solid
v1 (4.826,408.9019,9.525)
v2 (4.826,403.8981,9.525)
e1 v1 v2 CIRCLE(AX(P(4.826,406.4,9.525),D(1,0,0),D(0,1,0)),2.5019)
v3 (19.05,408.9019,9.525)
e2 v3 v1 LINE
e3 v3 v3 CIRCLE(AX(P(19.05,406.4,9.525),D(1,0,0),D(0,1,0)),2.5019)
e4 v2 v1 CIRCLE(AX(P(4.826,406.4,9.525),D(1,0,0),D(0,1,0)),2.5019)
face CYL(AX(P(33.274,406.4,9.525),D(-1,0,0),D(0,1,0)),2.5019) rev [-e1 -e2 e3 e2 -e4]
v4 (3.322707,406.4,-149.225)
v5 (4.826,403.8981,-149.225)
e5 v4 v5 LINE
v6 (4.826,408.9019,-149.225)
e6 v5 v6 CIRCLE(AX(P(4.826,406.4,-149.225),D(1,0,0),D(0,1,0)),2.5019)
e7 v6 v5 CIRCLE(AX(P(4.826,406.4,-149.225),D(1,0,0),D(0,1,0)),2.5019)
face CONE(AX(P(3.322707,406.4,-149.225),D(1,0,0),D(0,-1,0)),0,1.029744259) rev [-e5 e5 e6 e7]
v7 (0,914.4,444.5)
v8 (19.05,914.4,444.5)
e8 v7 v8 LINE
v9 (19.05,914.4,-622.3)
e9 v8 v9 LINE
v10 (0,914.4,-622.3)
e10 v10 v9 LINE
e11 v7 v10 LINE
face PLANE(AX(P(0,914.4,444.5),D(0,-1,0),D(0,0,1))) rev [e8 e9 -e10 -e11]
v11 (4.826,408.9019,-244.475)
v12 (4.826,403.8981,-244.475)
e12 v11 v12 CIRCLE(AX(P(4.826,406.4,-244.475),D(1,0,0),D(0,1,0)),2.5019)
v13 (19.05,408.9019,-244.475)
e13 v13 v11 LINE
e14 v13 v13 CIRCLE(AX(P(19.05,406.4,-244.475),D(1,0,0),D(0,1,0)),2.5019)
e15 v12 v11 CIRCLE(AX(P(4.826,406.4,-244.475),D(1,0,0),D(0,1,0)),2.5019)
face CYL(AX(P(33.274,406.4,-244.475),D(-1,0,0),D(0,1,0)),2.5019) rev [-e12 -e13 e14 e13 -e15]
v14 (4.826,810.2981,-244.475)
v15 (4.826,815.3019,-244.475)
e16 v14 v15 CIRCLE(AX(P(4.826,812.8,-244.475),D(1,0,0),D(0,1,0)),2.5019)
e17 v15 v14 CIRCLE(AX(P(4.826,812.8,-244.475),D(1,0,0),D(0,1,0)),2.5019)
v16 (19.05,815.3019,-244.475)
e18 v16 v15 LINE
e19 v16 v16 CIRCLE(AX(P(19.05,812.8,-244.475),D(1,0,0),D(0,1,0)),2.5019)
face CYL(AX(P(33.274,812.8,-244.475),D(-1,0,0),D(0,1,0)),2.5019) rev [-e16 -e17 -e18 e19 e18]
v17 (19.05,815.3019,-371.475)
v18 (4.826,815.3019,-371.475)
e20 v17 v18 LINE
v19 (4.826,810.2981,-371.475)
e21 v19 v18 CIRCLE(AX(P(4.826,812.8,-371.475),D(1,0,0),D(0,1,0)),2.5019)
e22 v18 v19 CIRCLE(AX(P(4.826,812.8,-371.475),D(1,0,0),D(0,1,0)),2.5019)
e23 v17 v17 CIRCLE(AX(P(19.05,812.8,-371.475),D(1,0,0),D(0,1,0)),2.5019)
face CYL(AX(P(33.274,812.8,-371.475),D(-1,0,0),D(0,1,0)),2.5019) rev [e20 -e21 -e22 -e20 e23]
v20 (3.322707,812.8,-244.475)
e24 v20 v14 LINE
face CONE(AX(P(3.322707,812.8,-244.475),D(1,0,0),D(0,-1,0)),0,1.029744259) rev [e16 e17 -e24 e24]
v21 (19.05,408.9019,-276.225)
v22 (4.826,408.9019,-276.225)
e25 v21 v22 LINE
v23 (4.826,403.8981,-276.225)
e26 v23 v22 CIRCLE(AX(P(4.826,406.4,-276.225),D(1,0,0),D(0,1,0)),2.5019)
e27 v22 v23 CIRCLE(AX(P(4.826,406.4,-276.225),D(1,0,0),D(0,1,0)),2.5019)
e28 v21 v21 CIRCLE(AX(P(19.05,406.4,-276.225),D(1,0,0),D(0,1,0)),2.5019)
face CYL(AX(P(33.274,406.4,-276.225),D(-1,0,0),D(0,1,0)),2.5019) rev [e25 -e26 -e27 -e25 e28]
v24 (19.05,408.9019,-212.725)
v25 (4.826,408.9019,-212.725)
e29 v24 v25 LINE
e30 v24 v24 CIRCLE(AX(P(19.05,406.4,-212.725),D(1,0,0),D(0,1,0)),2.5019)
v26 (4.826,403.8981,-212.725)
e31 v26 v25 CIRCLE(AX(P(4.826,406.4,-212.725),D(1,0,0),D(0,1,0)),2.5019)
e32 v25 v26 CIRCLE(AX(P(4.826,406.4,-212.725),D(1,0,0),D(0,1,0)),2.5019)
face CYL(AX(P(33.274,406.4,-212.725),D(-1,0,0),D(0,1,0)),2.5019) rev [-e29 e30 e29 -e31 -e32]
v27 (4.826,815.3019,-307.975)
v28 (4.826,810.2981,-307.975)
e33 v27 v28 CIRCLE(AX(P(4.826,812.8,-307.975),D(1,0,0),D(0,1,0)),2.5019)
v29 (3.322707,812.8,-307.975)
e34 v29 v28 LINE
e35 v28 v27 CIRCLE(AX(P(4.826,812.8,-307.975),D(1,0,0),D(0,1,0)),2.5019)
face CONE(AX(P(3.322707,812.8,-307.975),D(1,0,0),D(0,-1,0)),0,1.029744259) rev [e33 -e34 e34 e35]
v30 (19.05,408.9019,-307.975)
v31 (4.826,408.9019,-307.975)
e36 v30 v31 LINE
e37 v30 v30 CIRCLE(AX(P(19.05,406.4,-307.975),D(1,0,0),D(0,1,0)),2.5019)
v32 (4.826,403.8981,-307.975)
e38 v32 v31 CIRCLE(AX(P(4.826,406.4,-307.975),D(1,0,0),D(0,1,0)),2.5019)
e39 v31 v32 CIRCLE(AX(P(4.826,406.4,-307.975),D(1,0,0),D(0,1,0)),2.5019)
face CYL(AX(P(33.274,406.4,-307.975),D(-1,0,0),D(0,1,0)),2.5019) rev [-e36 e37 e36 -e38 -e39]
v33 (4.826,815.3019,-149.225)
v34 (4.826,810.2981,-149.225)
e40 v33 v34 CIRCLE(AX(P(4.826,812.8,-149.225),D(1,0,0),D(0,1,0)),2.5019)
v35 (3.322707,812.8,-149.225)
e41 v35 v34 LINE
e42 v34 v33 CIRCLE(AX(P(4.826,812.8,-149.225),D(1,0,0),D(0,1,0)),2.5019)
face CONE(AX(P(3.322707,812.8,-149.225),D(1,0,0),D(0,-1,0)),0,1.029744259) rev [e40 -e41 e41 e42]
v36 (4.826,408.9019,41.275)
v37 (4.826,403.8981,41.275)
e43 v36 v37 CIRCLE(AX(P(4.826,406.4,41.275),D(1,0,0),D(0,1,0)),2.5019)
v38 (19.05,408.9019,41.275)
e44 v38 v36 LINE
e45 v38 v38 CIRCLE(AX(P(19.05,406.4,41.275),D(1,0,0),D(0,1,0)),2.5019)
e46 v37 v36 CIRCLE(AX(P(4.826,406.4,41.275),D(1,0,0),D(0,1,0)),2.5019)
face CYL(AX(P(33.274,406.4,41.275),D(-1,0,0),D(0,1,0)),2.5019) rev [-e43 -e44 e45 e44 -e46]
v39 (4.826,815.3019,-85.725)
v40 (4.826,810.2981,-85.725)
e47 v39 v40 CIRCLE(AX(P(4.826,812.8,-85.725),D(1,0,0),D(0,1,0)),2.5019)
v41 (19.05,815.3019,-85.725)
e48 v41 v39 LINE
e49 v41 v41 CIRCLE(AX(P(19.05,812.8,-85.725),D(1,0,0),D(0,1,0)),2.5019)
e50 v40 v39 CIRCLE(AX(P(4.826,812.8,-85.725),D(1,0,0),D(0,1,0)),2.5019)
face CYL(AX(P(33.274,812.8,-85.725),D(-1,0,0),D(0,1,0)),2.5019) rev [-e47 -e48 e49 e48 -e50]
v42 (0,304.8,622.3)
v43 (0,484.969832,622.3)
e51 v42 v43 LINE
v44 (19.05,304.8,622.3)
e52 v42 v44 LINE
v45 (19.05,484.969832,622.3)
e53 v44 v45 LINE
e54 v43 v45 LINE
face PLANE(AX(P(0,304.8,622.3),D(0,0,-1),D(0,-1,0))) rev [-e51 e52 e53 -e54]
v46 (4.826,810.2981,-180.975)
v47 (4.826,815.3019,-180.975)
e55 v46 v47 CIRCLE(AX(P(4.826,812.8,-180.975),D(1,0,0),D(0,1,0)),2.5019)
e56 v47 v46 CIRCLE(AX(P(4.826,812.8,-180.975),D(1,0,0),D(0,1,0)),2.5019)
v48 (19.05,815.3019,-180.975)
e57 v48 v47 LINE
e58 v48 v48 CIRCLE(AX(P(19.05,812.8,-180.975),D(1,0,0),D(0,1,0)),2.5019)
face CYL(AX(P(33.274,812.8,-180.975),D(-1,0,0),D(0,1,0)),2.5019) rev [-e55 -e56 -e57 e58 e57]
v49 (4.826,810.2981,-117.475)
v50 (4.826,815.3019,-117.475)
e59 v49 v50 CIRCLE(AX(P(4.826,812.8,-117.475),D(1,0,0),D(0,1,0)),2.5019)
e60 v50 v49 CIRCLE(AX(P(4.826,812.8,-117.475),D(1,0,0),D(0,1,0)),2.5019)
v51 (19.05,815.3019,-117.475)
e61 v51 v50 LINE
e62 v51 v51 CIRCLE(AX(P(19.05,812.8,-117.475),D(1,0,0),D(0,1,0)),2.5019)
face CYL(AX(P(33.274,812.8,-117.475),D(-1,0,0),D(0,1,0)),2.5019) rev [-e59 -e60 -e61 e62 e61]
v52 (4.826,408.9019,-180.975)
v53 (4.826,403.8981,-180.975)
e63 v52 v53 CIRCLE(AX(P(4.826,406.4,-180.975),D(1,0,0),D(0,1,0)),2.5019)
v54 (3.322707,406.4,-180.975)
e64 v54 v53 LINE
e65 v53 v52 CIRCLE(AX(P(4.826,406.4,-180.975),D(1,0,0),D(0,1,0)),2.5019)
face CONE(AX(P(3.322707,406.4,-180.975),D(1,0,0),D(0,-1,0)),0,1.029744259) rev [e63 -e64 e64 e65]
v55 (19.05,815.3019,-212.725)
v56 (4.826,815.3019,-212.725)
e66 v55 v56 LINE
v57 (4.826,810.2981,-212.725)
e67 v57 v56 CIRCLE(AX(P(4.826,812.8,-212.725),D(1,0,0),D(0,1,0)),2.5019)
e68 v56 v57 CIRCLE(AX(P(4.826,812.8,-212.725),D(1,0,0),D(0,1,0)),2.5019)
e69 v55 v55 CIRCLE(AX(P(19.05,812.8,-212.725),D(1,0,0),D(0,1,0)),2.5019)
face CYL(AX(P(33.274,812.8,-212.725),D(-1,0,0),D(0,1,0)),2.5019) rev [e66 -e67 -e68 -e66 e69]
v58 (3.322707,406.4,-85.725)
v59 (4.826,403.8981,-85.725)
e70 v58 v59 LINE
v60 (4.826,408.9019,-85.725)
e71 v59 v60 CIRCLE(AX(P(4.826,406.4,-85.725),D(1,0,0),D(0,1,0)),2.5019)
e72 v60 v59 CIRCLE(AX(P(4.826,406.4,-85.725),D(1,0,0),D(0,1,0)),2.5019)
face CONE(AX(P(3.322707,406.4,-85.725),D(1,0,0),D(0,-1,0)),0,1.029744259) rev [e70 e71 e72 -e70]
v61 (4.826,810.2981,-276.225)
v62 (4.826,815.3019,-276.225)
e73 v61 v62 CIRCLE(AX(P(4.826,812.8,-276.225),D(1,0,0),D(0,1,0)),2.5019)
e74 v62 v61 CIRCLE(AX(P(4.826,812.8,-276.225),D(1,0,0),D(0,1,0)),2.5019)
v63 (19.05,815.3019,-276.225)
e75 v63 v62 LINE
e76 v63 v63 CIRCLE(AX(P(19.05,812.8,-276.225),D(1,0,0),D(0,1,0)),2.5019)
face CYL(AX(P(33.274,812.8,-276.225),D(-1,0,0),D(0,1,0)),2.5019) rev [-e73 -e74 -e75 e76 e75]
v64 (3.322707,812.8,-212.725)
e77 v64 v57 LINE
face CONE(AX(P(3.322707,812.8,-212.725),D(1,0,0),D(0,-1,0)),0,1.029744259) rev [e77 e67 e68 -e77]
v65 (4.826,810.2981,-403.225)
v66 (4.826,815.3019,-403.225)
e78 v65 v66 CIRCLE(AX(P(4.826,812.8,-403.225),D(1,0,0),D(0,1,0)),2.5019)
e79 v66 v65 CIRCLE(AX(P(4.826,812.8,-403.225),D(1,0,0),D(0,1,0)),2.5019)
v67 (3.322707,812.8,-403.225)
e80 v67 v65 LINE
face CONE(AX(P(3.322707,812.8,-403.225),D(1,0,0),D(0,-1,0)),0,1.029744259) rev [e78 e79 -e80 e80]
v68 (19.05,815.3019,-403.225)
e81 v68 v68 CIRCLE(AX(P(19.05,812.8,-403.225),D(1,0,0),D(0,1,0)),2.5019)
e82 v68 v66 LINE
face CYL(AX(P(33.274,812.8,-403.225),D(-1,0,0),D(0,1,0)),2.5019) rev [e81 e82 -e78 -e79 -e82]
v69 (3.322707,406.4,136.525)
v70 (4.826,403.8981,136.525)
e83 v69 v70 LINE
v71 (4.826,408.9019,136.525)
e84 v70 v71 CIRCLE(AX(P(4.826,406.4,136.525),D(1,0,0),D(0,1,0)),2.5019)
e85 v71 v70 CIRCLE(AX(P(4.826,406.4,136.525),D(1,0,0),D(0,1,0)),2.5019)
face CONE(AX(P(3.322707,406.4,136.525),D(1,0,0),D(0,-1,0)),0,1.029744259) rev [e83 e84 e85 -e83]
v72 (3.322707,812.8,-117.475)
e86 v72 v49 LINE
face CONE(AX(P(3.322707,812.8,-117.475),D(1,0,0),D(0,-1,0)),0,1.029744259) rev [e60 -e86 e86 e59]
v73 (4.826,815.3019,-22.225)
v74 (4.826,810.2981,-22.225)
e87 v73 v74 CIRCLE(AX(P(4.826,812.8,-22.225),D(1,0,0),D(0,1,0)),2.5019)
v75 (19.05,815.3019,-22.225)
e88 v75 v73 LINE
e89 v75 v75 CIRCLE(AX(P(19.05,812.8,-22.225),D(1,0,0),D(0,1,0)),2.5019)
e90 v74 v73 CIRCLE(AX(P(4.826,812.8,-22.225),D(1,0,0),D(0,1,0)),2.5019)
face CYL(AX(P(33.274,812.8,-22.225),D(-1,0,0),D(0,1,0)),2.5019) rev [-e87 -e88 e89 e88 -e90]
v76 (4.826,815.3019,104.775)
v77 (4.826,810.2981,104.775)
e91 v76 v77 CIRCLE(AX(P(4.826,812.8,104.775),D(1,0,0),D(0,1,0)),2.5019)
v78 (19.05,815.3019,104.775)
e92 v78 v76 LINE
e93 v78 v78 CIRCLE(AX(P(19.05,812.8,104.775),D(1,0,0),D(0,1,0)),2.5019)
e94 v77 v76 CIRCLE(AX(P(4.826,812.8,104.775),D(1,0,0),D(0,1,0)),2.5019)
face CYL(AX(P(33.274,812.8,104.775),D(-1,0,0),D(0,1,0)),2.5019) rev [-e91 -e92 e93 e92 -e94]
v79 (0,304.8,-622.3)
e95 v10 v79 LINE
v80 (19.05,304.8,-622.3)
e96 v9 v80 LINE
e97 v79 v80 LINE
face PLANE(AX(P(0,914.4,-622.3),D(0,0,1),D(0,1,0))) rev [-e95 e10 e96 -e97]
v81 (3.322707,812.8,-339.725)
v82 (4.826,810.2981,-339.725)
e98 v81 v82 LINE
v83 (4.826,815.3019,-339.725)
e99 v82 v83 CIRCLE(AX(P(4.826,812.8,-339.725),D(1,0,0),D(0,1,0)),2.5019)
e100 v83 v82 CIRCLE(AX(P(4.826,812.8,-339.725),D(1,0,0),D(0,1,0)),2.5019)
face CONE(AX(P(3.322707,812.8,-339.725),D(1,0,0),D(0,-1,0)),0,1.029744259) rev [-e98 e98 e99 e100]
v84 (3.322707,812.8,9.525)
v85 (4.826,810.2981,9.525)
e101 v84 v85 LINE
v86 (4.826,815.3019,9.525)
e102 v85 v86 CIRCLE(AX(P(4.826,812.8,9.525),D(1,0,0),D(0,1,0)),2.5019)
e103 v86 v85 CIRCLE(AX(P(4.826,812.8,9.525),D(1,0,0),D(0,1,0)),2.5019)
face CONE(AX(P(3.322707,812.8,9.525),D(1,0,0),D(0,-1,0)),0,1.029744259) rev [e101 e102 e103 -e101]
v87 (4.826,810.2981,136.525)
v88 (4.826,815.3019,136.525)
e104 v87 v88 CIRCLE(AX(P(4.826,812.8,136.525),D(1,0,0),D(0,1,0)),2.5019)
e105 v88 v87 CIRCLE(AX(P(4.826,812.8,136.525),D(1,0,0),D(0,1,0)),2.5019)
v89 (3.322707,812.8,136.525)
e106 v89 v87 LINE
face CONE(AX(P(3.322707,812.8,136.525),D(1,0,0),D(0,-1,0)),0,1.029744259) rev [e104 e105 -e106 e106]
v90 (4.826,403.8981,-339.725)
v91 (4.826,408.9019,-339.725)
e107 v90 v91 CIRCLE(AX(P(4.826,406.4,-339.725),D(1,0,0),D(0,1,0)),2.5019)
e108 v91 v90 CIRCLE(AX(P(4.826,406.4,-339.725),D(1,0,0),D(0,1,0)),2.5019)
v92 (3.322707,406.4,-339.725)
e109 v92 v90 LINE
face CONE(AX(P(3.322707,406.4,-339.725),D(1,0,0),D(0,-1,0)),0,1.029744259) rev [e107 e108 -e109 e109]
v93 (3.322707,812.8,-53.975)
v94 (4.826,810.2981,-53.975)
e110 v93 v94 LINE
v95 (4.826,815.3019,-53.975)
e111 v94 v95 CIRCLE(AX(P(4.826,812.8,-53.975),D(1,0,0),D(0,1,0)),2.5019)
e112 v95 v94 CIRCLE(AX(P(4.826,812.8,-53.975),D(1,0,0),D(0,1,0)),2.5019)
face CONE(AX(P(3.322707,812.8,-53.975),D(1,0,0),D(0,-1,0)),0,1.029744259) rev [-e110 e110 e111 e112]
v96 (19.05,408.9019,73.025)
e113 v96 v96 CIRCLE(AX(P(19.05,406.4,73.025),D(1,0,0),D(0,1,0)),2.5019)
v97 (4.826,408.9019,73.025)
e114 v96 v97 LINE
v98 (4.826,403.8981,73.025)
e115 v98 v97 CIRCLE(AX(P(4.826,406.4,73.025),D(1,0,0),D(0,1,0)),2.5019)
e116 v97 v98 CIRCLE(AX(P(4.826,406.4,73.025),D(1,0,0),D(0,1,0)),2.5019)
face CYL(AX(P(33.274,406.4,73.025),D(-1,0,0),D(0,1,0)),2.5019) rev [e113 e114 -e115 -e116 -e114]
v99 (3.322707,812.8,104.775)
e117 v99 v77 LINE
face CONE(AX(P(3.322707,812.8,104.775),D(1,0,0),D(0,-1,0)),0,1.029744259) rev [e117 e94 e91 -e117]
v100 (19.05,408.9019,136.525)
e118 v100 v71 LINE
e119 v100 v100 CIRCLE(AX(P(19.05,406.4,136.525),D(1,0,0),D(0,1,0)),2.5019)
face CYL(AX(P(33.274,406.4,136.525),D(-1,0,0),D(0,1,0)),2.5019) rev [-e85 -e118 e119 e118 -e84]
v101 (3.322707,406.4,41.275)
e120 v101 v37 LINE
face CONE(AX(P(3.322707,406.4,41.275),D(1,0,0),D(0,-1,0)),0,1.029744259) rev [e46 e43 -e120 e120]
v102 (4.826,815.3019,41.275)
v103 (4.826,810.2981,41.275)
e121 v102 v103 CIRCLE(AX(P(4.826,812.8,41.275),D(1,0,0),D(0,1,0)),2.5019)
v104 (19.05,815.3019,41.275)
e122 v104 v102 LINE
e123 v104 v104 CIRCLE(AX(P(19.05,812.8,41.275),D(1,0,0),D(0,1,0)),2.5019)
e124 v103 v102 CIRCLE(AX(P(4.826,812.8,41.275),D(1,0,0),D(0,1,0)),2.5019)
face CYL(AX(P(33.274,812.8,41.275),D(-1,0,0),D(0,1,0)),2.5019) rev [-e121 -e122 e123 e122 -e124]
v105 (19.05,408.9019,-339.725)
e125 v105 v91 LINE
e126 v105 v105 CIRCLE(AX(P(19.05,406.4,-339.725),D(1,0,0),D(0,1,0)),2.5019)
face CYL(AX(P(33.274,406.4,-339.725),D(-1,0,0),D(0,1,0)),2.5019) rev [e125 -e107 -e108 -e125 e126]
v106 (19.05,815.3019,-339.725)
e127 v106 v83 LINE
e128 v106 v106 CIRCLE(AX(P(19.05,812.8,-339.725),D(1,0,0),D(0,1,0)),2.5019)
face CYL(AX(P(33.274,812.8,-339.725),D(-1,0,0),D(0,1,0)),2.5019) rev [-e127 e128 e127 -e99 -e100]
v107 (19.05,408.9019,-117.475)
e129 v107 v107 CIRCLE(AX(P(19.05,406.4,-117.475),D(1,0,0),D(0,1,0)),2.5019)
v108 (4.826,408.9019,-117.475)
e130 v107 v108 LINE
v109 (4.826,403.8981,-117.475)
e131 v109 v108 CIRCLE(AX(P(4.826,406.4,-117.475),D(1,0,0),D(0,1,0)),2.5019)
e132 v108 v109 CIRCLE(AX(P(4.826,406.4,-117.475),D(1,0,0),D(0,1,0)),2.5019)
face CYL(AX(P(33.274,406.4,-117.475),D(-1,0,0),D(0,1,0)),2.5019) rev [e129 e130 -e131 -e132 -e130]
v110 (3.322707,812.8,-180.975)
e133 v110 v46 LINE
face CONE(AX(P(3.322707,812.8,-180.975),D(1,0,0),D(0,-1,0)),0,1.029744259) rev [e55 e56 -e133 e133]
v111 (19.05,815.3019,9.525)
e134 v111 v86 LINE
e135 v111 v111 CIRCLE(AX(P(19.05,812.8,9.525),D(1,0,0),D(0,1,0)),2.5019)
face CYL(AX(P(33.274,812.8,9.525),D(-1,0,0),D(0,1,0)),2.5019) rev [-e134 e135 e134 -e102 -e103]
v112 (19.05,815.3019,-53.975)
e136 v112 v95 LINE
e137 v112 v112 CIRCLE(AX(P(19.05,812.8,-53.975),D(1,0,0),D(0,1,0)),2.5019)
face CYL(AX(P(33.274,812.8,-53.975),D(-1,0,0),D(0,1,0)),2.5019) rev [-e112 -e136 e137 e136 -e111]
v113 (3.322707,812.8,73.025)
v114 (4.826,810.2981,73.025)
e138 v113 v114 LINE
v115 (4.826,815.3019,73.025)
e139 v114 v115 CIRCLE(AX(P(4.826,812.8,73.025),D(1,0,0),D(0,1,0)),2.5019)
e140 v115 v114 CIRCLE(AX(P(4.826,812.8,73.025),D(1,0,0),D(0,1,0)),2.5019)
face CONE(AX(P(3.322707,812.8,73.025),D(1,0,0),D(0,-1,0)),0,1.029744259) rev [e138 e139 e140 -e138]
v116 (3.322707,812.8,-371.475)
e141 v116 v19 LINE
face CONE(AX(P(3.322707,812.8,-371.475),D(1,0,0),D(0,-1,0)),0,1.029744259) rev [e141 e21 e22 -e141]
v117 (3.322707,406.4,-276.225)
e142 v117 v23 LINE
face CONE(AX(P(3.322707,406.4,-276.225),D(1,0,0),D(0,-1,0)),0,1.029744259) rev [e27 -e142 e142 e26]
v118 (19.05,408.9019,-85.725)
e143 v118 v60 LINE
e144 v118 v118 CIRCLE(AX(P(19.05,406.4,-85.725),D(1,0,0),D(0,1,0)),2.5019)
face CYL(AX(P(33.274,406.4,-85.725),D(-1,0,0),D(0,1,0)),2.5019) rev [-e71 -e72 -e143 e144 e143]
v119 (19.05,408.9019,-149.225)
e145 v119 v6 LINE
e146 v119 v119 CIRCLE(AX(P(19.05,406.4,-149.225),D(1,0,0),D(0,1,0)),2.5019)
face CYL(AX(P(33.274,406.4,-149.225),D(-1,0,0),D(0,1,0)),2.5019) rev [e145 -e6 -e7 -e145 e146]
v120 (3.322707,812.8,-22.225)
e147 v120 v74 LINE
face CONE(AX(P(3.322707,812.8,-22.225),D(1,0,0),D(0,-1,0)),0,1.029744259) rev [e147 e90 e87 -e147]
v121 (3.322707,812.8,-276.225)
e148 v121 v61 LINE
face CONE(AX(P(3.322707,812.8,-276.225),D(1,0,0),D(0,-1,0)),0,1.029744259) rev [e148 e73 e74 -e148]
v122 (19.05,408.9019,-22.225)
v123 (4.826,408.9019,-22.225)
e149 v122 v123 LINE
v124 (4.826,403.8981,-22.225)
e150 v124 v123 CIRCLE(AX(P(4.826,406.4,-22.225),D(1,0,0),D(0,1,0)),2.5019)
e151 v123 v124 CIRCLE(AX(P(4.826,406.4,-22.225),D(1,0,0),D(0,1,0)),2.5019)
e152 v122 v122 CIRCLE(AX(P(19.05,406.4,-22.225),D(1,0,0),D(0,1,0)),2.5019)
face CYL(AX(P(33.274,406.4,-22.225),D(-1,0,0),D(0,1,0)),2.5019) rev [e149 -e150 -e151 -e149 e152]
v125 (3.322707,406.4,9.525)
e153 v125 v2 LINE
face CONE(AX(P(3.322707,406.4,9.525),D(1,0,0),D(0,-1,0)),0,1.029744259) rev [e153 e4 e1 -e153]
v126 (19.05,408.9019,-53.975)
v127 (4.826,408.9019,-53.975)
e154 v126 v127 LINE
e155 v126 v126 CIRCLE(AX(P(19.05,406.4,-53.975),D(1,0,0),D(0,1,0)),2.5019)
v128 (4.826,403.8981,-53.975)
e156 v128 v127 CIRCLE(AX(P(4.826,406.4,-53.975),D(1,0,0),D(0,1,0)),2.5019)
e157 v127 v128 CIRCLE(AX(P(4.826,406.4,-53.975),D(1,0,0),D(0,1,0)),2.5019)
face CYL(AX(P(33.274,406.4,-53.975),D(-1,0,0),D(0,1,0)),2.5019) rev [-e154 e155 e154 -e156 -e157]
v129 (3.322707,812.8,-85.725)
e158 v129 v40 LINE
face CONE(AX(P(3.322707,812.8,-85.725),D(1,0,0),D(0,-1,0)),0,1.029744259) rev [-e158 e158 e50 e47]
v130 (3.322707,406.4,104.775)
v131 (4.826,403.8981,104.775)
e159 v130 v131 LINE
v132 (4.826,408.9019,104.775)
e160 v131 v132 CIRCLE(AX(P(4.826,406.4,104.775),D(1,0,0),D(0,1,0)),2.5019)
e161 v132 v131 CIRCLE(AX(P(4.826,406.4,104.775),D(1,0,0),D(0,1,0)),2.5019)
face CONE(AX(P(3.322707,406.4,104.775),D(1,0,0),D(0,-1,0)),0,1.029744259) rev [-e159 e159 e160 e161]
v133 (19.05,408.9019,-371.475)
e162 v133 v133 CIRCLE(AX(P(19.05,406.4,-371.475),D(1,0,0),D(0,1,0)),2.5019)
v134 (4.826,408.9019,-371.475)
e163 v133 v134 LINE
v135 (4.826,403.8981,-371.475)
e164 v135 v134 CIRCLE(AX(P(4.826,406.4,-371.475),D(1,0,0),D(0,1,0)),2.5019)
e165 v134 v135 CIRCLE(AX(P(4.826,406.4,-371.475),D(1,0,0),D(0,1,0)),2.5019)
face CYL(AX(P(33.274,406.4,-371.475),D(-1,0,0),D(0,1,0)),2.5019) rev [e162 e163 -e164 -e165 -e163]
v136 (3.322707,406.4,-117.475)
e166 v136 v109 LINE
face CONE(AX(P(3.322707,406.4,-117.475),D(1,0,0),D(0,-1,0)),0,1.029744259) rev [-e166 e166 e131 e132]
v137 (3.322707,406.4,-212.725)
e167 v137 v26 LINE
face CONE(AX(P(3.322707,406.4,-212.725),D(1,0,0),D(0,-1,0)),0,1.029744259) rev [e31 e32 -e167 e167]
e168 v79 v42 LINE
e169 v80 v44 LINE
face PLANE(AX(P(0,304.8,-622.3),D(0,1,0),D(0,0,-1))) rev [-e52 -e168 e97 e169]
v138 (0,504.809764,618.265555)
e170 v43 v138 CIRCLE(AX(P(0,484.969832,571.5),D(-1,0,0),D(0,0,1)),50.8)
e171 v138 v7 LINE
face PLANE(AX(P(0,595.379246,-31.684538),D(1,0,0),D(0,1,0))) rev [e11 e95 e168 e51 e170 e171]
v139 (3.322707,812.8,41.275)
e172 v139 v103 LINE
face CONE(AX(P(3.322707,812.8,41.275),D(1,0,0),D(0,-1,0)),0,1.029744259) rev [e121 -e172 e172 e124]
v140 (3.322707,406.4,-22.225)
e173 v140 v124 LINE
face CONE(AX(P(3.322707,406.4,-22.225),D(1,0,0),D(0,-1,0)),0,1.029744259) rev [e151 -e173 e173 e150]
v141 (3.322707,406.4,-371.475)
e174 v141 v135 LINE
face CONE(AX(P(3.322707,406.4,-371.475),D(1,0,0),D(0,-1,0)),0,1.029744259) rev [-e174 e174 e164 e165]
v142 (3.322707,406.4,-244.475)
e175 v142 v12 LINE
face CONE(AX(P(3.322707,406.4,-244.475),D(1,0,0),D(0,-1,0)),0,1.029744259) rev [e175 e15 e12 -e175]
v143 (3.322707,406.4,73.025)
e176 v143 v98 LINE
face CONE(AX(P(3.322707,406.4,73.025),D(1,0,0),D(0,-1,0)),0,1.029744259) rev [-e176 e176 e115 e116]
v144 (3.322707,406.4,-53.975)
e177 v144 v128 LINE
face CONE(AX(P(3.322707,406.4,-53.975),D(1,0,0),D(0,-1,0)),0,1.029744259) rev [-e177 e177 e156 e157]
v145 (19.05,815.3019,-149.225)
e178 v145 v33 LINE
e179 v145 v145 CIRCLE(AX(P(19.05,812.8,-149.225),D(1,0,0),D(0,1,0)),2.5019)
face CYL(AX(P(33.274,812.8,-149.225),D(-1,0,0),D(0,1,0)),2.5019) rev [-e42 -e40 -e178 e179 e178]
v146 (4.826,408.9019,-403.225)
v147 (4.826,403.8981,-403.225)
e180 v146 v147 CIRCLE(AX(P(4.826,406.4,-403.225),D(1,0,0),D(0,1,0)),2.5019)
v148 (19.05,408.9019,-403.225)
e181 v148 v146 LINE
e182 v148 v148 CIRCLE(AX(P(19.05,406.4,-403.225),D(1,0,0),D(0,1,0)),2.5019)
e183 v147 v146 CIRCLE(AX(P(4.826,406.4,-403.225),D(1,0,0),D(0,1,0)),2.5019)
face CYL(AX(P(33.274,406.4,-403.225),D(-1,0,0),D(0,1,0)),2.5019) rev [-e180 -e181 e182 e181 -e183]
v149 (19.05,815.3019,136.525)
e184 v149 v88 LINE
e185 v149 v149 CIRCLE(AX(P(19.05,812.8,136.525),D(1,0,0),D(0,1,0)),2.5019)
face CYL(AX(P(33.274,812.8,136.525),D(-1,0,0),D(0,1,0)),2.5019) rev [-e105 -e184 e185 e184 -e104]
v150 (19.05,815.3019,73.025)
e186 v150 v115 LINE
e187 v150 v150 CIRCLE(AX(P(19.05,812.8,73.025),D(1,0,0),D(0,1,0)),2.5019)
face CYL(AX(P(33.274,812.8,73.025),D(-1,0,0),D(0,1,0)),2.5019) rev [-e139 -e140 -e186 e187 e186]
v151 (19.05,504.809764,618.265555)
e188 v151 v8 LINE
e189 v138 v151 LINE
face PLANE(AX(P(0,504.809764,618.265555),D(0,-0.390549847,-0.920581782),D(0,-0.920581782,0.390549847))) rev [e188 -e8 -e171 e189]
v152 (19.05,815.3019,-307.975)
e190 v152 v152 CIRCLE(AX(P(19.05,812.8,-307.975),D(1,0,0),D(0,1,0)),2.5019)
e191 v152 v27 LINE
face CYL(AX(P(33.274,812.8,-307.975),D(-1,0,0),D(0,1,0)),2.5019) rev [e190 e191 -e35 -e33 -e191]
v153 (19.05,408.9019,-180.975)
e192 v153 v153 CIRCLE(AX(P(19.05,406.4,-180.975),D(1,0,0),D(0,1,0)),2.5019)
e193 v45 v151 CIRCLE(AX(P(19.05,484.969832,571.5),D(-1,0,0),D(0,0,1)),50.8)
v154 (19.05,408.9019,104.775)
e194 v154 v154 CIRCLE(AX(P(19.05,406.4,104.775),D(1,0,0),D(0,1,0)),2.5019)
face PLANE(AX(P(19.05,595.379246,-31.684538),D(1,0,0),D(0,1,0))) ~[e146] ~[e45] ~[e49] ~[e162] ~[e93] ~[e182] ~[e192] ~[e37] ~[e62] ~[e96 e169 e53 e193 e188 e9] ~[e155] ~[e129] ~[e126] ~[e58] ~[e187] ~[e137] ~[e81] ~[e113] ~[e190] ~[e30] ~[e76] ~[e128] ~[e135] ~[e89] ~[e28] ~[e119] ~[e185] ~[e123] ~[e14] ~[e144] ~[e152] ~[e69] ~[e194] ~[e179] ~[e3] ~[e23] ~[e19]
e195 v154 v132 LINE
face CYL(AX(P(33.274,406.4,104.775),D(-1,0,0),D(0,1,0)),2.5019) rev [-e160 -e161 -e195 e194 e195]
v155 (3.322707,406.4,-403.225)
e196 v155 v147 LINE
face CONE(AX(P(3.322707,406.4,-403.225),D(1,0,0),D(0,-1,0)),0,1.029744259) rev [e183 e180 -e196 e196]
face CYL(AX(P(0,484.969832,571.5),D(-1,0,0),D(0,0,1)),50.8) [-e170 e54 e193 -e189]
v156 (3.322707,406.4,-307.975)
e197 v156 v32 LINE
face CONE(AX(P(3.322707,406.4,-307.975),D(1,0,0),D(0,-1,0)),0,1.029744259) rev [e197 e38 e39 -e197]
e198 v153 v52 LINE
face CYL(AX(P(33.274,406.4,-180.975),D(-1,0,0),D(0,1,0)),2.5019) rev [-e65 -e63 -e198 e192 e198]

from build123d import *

# Parameters (mm, degrees)
F1_DEPTH = 19.05
F3_D     = 5.0038
F3_DEPTH = 14.224
F3_TIP   = 1.5032931827


with BuildPart() as f1:
    # F0 (on Right) → F1 (new body)
    with BuildSketch(Plane.YZ):
        with BuildLine():
            Line((304.8, -622.3), (304.8, 622.3))
            Line((304.8, 622.3), (124.6301678728, 622.3))
            ThreePointArc((124.6301678728, 622.3), (114.5071784324, 621.2811719909), (104.7902356525, 618.2655545193))
            Line((104.7902356525, 618.2655545193), (-304.8, 444.5))
            Line((-304.8, 444.5), (-304.8, 396.875))
            Line((-304.8, 396.875), (-304.8, -622.3))
            Line((-304.8, -622.3), (304.8, -622.3))
        make_face()
    extrude(amount=F1_DEPTH)

    # F3
    with Locations(Plane.YZ.offset(19.05)):
        with Locations((-203.2, 136.525), (-203.2, 104.775), (-203.2, 73.025), (-203.2, 41.275), (-203.2, 9.525), (-203.2, -22.225), (-203.2, -53.975), (-203.2, -85.725), (-203.2, -117.475), (-203.2, -149.225), (-203.2, -180.975), (-203.2, -212.725), (-203.2, -244.475), (-203.2, -276.225), (-203.2, -307.975), (-203.2, -339.725), (-203.2, -371.475), (-203.2, -403.225), (203.2, -403.225), (203.2, -371.475), (203.2, -339.725), (203.2, -307.975), (203.2, -276.225), (203.2, -244.475), (203.2, -212.725), (203.2, -180.975), (203.2, -149.225), (203.2, -117.475), (203.2, -85.725), (203.2, -53.975), (203.2, -22.225), (203.2, 9.525), (203.2, 41.275), (203.2, 73.025), (203.2, 104.775), (203.2, 136.525)):
            Hole(F3_D / 2, depth=F3_DEPTH)
            with Locations((0, 0, -(F3_DEPTH + F3_TIP / 2))):  # 118° drill point
                Cone(0, F3_D / 2, F3_TIP, mode=Mode.SUBTRACT)


with BuildPart() as f4_1:
    # F4: instance of F1
    add(f1.part.mirror(Plane(origin=(9.525, 304.8, 0), x_dir=(-1, 0, 0), z_dir=(0, 1, 0))))


solid = f4_1.part
